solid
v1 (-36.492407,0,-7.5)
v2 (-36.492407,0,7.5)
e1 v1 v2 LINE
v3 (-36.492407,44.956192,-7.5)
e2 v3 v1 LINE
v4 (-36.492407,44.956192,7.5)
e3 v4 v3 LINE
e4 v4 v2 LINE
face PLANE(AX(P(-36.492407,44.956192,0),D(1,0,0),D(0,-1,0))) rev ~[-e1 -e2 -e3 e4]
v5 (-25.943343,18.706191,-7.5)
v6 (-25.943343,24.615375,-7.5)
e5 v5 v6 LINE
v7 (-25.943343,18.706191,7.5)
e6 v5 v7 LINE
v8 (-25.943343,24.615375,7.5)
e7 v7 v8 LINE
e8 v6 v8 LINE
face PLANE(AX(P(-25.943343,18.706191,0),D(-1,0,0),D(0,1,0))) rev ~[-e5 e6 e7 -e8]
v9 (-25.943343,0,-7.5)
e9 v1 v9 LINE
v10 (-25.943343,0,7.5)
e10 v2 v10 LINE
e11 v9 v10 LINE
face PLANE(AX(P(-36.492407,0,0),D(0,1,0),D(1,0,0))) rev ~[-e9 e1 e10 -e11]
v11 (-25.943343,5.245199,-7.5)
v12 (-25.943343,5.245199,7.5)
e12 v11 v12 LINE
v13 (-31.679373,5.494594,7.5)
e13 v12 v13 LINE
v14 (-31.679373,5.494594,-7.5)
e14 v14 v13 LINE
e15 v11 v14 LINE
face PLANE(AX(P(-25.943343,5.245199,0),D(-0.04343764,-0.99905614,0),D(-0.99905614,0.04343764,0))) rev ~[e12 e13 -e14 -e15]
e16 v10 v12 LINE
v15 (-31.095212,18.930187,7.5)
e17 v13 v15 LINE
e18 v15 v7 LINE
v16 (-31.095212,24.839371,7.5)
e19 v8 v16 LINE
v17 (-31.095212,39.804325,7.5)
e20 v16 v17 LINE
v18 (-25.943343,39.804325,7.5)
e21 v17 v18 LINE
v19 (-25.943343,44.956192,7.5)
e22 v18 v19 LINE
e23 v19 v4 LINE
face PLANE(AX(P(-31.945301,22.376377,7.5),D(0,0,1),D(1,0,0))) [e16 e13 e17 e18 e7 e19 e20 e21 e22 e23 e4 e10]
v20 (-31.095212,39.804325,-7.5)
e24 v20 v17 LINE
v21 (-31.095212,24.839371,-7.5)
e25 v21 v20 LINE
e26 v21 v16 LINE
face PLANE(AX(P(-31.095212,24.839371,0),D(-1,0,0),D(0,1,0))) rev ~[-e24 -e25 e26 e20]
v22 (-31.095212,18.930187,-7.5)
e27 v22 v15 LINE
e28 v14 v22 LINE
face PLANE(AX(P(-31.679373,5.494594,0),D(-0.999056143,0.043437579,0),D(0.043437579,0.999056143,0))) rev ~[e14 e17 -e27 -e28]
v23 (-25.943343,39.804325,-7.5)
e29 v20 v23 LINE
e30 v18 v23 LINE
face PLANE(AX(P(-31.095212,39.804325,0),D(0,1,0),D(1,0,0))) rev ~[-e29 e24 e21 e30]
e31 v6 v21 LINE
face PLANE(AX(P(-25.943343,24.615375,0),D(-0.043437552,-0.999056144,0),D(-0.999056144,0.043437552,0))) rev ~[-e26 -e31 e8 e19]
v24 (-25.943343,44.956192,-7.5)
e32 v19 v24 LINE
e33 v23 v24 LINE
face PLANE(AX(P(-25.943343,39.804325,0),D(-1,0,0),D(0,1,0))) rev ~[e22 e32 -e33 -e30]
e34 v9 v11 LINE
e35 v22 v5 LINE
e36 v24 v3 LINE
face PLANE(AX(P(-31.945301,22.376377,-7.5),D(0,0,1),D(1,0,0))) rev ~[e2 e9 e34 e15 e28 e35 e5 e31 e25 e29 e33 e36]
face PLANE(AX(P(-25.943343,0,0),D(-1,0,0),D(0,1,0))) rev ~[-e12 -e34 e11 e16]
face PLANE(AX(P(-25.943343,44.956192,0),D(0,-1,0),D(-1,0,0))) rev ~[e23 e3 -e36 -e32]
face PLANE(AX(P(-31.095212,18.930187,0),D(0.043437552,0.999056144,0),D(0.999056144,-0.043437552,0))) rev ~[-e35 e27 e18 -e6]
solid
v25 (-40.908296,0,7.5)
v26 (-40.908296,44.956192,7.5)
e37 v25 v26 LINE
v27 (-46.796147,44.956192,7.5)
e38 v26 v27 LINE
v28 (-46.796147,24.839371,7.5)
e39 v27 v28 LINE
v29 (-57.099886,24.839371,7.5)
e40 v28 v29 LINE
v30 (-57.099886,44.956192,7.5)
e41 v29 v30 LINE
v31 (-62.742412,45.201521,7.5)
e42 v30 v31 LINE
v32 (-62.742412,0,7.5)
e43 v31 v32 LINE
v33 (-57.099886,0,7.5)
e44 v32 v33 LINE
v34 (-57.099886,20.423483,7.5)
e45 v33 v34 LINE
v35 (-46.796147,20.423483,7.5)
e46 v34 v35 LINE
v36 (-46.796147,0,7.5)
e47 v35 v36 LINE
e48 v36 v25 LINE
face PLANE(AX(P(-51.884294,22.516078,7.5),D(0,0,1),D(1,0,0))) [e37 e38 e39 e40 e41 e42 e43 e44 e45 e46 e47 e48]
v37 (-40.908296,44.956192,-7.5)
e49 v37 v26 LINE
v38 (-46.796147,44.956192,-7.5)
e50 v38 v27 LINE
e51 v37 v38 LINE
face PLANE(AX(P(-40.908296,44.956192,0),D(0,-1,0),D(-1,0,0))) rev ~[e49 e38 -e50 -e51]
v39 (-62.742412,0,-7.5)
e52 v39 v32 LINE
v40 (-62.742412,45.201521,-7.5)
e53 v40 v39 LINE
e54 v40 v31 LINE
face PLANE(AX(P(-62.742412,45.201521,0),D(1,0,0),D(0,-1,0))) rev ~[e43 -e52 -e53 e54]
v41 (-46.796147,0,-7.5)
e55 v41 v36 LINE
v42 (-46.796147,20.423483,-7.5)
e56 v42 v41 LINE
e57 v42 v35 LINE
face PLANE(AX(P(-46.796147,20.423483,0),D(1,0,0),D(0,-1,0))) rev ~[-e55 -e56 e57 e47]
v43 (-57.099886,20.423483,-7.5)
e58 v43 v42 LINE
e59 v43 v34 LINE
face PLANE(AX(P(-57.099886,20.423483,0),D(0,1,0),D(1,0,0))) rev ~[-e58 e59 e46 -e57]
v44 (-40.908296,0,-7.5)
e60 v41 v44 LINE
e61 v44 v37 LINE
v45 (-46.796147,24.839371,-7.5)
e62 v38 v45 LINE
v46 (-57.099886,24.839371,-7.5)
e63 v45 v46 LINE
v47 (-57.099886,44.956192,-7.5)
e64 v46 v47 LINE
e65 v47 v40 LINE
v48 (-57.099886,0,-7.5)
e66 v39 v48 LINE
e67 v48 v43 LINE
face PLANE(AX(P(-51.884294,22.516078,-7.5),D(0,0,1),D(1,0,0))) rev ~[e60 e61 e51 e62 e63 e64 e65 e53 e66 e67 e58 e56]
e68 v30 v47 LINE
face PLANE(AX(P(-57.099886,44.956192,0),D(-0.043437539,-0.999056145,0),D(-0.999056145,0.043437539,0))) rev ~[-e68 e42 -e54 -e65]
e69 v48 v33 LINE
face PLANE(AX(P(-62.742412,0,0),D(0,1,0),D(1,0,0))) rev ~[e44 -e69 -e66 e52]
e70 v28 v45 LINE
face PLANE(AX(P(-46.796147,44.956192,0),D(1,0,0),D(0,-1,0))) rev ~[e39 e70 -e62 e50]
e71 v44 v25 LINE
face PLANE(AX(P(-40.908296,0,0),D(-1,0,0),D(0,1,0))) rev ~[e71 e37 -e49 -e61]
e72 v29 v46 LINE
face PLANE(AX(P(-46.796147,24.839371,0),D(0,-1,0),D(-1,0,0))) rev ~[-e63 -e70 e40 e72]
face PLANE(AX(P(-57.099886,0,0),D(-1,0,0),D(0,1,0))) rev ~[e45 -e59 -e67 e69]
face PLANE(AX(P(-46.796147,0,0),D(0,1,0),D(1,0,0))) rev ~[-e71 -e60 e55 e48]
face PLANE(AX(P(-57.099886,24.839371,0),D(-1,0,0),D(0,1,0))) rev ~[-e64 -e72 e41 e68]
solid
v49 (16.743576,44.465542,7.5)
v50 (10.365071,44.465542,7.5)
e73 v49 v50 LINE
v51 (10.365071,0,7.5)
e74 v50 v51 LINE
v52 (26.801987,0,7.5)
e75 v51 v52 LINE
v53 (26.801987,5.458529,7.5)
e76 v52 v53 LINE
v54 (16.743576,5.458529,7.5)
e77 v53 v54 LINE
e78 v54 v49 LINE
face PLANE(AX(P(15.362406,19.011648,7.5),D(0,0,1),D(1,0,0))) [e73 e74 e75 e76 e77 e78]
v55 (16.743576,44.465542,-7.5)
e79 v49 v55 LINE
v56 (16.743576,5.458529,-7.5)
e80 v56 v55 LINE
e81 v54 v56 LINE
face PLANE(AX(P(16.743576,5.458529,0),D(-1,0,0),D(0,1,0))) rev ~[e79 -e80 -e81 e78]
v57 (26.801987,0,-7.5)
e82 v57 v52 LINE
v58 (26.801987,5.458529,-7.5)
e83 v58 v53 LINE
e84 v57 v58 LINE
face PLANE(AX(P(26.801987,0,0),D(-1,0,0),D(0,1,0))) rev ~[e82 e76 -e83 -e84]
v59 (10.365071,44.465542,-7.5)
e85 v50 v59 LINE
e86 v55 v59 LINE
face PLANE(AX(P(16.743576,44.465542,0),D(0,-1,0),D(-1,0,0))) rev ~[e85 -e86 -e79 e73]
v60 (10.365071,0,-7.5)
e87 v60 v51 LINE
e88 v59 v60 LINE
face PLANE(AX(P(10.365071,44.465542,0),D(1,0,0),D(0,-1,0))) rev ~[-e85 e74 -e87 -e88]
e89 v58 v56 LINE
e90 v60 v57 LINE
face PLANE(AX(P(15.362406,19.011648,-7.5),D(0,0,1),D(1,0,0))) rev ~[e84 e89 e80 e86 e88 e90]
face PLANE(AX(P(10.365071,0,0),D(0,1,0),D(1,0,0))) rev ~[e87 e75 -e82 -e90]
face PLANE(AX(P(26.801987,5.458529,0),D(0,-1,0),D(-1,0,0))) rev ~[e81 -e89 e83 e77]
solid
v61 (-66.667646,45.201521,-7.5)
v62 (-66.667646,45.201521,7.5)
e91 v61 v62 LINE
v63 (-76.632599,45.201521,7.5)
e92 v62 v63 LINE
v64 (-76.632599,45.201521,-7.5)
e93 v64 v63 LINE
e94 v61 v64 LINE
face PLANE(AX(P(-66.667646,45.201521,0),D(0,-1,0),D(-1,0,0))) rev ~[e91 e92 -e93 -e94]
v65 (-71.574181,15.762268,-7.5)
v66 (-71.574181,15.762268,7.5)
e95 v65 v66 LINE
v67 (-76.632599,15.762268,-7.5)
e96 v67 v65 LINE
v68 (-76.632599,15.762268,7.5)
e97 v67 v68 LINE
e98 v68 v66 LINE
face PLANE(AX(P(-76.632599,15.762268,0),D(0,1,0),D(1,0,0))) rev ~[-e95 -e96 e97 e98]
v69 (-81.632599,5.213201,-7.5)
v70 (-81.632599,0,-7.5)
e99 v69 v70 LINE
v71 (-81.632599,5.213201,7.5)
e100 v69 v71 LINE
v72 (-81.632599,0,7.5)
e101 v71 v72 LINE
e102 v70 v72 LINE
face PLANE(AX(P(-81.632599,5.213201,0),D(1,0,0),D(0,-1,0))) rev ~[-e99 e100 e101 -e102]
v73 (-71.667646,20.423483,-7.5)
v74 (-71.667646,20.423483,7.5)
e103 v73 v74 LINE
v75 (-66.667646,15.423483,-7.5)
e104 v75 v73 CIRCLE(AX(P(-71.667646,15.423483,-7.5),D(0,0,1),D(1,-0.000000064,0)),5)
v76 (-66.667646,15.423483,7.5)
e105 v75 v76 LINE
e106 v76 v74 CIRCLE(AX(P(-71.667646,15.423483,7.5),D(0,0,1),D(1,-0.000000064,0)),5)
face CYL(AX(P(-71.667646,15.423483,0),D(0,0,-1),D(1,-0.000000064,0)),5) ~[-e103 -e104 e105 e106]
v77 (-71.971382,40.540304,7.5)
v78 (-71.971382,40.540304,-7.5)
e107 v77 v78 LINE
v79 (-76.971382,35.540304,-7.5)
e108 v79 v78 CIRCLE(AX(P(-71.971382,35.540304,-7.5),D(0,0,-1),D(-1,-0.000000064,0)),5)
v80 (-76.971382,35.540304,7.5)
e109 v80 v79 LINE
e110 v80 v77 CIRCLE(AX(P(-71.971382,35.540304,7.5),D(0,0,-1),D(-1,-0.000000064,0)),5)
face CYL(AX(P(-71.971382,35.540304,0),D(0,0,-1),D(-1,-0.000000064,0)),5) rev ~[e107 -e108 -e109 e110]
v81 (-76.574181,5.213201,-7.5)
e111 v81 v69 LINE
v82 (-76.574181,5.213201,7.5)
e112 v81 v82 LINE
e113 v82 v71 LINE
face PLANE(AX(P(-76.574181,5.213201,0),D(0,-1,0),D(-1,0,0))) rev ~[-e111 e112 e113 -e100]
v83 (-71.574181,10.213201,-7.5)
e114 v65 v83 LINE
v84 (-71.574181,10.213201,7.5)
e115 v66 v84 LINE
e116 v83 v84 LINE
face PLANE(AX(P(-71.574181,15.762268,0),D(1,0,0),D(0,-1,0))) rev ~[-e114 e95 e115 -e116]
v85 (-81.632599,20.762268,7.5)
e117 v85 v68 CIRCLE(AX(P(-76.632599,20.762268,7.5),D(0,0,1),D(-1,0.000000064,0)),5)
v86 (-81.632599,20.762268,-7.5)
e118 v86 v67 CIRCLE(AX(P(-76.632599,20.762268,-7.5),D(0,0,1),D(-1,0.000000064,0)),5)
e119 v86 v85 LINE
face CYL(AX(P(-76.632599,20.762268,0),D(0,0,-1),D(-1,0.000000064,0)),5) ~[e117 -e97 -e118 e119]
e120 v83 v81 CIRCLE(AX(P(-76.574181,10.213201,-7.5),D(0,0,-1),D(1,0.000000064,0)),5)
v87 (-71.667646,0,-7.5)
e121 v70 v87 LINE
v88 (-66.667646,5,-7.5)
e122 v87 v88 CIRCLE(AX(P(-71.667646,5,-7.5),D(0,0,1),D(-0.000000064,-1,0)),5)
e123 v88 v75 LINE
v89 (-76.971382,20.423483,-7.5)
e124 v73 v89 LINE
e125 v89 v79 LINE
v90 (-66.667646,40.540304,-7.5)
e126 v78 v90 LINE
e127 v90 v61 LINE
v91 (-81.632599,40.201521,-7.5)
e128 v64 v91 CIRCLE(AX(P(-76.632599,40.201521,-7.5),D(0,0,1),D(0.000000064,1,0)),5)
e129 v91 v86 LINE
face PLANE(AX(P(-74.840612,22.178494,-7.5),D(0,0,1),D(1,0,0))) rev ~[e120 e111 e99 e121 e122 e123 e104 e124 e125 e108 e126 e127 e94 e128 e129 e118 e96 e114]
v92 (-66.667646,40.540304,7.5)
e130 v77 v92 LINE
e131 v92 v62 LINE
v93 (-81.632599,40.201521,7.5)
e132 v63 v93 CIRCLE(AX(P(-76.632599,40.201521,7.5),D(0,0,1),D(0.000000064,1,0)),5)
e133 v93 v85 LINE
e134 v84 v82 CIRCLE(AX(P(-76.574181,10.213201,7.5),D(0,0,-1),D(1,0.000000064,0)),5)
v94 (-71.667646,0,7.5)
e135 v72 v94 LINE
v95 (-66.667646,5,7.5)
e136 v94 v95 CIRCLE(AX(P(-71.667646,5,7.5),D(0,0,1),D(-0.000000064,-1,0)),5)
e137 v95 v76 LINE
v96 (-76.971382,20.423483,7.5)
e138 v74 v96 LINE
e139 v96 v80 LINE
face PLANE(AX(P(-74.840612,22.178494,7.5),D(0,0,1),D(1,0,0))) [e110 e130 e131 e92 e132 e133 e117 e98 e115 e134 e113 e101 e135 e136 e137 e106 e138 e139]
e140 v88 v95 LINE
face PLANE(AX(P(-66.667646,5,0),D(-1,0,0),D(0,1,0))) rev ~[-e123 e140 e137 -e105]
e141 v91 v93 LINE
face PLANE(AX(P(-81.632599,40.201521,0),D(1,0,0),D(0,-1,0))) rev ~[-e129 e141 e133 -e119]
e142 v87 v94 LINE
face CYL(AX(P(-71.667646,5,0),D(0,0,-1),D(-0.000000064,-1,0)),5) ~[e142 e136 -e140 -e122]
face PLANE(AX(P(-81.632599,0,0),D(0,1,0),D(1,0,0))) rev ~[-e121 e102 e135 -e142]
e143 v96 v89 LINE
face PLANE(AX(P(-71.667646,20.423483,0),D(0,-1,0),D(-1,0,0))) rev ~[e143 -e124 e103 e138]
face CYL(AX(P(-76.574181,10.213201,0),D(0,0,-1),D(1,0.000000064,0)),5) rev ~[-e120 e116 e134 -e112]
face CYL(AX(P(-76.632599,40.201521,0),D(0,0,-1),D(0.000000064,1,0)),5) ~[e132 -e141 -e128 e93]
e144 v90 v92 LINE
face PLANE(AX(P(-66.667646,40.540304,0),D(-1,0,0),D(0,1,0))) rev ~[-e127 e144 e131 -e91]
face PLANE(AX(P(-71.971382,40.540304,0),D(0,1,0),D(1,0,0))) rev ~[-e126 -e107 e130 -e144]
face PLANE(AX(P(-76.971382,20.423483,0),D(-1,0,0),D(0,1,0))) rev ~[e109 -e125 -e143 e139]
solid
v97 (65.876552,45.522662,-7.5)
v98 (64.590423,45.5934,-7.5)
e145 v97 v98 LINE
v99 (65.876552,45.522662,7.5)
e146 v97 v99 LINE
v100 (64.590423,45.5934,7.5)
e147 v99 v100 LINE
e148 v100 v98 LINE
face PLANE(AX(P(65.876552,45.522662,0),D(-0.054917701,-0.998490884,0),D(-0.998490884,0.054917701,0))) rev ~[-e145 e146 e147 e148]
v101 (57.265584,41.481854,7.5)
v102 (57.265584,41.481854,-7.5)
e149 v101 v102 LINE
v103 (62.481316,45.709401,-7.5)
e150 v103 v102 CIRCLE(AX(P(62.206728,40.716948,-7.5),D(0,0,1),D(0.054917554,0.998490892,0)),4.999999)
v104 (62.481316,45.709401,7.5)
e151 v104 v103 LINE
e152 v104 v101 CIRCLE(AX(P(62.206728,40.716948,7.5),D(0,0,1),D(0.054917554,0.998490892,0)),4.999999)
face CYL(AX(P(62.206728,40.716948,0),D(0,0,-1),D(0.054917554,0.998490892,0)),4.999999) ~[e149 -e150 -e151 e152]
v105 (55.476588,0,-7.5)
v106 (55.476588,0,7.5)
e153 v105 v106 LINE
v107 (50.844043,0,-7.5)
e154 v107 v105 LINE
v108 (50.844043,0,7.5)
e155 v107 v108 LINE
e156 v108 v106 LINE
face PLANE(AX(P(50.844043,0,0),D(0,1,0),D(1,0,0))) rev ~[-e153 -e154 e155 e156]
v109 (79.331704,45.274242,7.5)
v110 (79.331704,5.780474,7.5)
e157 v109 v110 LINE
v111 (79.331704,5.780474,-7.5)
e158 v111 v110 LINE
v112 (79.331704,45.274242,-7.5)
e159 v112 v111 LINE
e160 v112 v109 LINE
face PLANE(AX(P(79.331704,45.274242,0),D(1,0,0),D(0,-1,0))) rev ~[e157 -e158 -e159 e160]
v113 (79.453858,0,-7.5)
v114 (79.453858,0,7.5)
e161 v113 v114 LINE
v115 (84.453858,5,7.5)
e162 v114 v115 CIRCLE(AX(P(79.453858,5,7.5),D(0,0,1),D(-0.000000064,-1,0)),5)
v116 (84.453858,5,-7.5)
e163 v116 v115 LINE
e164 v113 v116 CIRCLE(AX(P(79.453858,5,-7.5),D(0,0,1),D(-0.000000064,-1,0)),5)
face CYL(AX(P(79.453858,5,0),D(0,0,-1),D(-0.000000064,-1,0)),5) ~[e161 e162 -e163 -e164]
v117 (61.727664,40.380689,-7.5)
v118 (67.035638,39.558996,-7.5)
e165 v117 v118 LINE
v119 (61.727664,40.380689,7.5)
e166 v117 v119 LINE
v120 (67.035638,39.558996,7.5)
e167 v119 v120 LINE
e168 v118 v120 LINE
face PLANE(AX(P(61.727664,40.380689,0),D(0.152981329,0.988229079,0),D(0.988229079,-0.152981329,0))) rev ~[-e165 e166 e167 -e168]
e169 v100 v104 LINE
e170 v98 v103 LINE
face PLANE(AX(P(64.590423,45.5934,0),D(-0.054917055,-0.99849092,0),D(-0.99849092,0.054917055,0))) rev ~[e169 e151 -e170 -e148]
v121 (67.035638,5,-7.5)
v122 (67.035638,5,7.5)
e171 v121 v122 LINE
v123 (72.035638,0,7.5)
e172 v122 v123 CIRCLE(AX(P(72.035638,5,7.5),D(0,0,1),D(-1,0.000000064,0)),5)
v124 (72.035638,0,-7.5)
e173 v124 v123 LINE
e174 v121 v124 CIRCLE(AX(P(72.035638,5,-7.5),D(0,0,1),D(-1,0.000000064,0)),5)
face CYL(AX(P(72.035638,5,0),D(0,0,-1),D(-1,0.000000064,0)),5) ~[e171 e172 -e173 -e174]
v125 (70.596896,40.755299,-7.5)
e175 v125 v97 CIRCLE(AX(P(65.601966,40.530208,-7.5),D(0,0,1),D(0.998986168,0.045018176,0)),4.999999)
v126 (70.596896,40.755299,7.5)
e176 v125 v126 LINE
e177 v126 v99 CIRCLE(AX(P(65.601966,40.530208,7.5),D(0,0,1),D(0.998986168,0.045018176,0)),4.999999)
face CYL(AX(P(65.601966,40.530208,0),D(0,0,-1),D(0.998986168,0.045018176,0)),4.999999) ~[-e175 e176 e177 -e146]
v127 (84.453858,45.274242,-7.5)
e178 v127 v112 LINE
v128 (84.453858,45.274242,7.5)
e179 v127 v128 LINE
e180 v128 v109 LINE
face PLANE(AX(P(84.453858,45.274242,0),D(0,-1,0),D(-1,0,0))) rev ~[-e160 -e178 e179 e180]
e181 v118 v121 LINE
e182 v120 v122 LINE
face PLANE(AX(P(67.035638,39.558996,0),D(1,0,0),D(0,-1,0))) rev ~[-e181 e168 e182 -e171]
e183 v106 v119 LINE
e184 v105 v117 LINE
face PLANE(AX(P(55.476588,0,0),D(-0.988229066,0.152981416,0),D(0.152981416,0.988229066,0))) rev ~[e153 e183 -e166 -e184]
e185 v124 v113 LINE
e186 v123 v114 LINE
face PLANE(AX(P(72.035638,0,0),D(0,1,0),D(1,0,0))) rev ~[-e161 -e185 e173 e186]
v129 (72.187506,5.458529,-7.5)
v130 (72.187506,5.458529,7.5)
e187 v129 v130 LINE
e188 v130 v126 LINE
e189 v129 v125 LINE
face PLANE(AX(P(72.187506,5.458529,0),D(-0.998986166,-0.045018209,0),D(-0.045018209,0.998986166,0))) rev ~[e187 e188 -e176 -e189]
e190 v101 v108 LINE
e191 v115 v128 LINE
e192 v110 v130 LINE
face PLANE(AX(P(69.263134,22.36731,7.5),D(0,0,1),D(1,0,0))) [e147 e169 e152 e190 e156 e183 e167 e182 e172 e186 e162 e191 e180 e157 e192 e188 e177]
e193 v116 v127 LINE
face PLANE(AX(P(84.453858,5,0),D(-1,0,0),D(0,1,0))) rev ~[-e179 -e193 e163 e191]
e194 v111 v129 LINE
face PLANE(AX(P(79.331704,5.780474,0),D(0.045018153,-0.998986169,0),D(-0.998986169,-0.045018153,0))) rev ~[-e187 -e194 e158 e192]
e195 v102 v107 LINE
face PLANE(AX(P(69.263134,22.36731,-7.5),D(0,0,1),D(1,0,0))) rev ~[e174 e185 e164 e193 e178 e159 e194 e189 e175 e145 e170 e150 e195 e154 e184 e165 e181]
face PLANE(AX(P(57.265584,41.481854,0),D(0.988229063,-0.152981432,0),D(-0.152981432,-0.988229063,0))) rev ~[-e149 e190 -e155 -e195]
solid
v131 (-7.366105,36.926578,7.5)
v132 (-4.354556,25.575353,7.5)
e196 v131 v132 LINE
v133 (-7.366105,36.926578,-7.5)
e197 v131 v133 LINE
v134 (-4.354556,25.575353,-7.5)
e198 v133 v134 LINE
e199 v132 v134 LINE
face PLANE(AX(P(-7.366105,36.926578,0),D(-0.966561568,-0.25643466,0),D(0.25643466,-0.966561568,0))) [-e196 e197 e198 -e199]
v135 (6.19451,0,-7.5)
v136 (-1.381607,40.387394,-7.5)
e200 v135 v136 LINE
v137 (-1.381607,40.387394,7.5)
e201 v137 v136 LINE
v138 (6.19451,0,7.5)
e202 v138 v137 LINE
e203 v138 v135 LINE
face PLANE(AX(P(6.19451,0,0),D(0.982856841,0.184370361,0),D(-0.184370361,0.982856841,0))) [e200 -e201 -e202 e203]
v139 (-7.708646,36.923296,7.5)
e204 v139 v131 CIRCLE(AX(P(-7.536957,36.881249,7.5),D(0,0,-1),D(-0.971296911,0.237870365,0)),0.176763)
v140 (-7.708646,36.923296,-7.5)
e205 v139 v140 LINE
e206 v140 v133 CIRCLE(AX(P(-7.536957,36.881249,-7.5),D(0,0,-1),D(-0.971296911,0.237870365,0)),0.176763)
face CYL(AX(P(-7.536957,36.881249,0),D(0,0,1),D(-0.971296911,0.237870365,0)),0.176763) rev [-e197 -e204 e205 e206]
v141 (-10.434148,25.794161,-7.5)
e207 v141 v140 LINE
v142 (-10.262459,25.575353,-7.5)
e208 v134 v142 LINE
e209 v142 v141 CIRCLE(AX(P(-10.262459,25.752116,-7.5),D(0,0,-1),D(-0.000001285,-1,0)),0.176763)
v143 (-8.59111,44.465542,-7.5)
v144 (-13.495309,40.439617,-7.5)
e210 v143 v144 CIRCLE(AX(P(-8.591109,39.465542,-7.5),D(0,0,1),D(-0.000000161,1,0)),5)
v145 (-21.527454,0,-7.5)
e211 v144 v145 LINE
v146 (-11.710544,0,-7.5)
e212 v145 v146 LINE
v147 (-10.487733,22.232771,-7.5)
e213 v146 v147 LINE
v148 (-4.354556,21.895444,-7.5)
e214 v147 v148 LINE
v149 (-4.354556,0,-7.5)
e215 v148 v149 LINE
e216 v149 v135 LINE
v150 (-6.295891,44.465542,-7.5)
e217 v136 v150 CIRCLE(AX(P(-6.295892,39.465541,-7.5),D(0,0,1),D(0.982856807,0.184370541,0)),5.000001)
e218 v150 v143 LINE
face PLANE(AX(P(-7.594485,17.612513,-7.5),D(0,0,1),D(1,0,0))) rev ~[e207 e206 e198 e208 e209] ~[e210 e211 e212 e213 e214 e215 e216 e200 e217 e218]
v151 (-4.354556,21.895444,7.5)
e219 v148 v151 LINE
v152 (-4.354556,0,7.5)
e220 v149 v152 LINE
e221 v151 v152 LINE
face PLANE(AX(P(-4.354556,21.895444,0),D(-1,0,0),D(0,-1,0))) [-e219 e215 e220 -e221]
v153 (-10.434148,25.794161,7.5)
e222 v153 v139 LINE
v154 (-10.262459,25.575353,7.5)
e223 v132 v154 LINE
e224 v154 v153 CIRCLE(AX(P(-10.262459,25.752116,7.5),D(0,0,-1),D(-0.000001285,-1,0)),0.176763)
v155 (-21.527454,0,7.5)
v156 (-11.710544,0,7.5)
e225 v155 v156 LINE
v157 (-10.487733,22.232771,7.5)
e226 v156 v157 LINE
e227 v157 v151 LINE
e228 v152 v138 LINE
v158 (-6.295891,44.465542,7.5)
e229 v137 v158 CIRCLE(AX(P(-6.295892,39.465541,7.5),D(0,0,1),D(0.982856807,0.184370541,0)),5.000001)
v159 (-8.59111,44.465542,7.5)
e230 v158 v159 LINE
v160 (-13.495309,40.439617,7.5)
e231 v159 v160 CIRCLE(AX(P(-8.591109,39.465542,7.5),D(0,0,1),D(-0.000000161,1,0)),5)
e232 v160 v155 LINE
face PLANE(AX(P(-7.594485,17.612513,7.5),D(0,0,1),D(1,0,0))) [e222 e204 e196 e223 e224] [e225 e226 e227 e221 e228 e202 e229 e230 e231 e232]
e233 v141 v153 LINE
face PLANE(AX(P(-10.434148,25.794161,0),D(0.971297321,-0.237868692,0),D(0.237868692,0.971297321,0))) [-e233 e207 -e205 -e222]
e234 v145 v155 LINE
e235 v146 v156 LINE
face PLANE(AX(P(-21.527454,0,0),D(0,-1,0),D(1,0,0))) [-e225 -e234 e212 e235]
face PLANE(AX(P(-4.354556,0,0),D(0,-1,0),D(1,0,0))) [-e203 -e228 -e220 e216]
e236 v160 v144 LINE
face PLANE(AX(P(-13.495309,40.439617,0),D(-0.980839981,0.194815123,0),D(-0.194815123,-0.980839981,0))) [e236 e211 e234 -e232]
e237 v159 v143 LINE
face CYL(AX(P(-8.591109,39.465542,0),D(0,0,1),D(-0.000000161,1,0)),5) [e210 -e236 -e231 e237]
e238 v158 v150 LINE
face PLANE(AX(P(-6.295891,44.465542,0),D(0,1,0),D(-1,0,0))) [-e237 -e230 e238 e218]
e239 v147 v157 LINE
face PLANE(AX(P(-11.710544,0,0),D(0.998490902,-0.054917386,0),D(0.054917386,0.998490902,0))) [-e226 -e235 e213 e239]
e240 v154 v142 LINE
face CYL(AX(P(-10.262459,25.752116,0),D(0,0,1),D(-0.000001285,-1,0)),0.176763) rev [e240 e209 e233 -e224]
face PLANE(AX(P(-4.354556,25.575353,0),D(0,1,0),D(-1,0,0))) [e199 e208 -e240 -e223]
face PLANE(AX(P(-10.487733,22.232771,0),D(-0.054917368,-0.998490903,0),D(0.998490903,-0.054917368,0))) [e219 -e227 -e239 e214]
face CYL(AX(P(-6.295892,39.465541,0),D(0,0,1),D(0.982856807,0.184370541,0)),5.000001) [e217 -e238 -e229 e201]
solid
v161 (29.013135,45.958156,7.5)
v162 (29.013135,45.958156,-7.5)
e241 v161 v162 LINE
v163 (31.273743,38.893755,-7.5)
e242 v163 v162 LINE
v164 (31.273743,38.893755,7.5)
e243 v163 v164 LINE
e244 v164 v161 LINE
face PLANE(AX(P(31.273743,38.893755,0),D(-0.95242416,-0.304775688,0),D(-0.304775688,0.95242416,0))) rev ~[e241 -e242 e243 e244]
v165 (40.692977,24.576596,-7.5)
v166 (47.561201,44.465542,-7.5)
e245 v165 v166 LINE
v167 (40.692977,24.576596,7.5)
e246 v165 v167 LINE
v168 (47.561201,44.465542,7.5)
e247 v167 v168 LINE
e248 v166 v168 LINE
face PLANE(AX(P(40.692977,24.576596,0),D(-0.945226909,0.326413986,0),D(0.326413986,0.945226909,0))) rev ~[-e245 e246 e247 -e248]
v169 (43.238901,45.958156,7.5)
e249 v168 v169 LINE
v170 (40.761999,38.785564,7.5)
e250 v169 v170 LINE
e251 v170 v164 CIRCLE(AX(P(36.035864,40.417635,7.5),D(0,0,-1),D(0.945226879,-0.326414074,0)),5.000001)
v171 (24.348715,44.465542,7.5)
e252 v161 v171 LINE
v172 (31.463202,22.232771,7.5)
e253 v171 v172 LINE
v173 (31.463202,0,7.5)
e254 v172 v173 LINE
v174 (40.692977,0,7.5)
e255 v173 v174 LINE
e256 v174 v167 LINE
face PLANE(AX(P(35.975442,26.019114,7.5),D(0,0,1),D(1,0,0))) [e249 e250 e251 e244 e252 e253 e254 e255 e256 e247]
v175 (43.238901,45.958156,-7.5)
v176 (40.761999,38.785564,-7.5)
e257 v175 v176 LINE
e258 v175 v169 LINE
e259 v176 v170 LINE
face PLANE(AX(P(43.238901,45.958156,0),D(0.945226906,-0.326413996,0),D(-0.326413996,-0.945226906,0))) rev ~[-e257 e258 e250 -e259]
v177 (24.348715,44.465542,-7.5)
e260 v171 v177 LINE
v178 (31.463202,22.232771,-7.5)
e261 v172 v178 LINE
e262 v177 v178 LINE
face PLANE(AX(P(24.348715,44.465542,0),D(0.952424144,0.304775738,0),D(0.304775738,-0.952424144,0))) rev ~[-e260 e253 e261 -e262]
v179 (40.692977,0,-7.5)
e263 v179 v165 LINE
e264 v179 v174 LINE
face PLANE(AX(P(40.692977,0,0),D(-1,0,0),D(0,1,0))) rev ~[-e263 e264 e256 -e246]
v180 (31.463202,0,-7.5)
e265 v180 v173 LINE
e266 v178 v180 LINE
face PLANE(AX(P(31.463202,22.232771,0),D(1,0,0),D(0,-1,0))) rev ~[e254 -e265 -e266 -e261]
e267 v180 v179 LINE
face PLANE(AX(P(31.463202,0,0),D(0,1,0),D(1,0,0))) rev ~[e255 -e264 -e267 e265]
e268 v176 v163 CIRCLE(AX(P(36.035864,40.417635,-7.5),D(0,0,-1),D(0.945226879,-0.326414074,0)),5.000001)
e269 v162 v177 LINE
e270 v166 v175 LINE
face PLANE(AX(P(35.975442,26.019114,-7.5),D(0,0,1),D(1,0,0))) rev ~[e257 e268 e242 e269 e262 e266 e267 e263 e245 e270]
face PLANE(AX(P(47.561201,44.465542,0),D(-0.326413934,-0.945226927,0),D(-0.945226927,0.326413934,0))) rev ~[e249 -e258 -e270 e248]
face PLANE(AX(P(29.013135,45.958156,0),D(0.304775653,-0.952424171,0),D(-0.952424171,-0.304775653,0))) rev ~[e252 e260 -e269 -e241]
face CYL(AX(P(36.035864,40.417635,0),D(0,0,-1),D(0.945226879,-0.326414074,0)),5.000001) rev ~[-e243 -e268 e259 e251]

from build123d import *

# Parameters (mm, degrees)
F1_DEPTH = 7.5


with BuildPart() as f1:
    # F0 (on Top) → F1 (new body, symmetric)
    with BuildSketch(Plane.XY):
        with BuildLine():
            Line((-71.971382, 40.540304), (-66.667646, 40.540304))
            Line((-66.667646, 40.540304), (-66.667646, 45.201521))
            Line((-66.667646, 45.201521), (-76.632599, 45.201521))
            ThreePointArc((-76.632599, 45.201521), (-80.168133, 43.737055), (-81.632599, 40.201521))
            Line((-81.632599, 40.201521), (-81.632599, 20.762268))
            ThreePointArc((-81.632599, 20.762268), (-80.168133, 17.226734), (-76.632599, 15.762268))
            Line((-76.632599, 15.762268), (-71.574181, 15.762268))
            Line((-71.574181, 15.762268), (-71.574181, 10.213201))
            ThreePointArc((-71.574181, 10.213201), (-73.038647, 6.677667), (-76.574181, 5.213201))
            Line((-76.574181, 5.213201), (-76.971382, 5.213201))
            Line((-76.971382, 5.213201), (-81.632599, 5.213201))
            Line((-81.632599, 5.213201), (-81.632599, 0))
            Line((-81.632599, 0), (-76.971382, 0))
            Line((-76.971382, 0), (-71.667646, 0))
            ThreePointArc((-71.667646, 0), (-68.132112, 1.464466), (-66.667646, 5))
            Line((-66.667646, 5), (-66.667646, 15.423483))
            ThreePointArc((-66.667646, 15.423483), (-68.132112, 18.959017), (-71.667646, 20.423483))
            Line((-71.667646, 20.423483), (-76.971382, 20.423483))
            Line((-76.971382, 20.423483), (-76.971382, 35.540304))
            ThreePointArc((-76.971382, 35.540304), (-75.506916, 39.075838), (-71.971382, 40.540304))
        make_face()
        Polygon((-57.099886, 44.956192), (-62.742412, 45.201521), (-62.742412, 0), (-57.099886, 0), (-57.099886, 20.423483), (-46.796147, 20.423483), (-46.796147, 0), (-40.908296, 0), (-40.908296, 24.839371), (-40.908296, 44.956192), (-46.796147, 44.956192), (-46.796147, 24.839371), (-57.099886, 24.839371), align=None)
        Polygon((-36.492407, 44.956192), (-36.492407, 0), (-25.943343, 0), (-25.943343, 5.245199), (-31.679373, 5.494594), (-31.095212, 18.930187), (-25.943343, 18.706191), (-25.943343, 24.615375), (-31.095212, 24.839371), (-31.095212, 39.804325), (-25.943343, 39.804325), (-25.943343, 44.956192), align=None)
        Polygon((10.365071, 44.465542), (10.365071, 0), (26.801987, 0), (26.801987, 5.458529), (16.743576, 5.458529), (16.743576, 44.465542), align=None)
        with BuildLine():
            Line((31.463202, 22.232771), (31.463202, 0))
            Line((31.463202, 0), (40.692977, 0))
            Line((40.692977, 0), (40.692977, 24.576596))
            Line((40.692977, 24.576596), (47.561201, 44.465542))
            Line((47.561201, 44.465542), (43.238901, 45.958156))
            Line((43.238901, 45.958156), (40.761999, 38.785564))
            ThreePointArc((40.761999, 38.785564), (35.978854, 35.417959), (31.273743, 38.893755))
            Line((31.273743, 38.893755), (29.013135, 45.958156))
            Line((29.013135, 45.958156), (24.348715, 44.465542))
            Line((24.348715, 44.465542), (31.463202, 22.232771))
        make_face()
        with BuildLine():
            Line((57.265584, 41.481854), (50.844043, 0))
            Line((50.844043, 0), (55.476588, 0))
            Line((55.476588, 0), (61.727664, 40.380689))
            Line((61.727664, 40.380689), (67.035638, 39.558996))
            Line((67.035638, 39.558996), (67.035638, 5))
            ThreePointArc((67.035638, 5), (68.500104, 1.464466), (72.035638, 0))
            Line((72.035638, 0), (79.453858, 0))
            ThreePointArc((79.453858, 0), (82.989392, 1.464466), (84.453858, 5))
            Line((84.453858, 5), (84.453858, 45.274242))
            Line((84.453858, 45.274242), (79.331704, 45.274242))
            Line((79.331704, 45.274242), (79.331704, 5.780474))
            Line((79.331704, 5.780474), (72.187506, 5.458529))
            Line((72.187506, 5.458529), (70.596896, 40.755299))
            ThreePointArc((70.596896, 40.755299), (69.154977, 44.048177), (65.876552, 45.522662))
            Line((65.876552, 45.522662), (64.590423, 45.5934))
            Line((64.590423, 45.5934), (62.481316, 45.709401))
            ThreePointArc((62.481316, 45.709401), (59.05836, 44.601245), (57.265584, 41.481854))
        make_face()
        with BuildLine():
            Line((-13.495309, 40.439617), (-21.527454, 0))
            Line((-21.527454, 0), (-11.710544, 0))
            Line((-11.710544, 0), (-10.487733, 22.232771))
            Line((-10.487733, 22.232771), (-4.354556, 21.895444))
            Line((-4.354556, 21.895444), (-4.354556, 0))
            Line((-4.354556, 0), (6.19451, 0))
            Line((6.19451, 0), (-1.381607, 40.387394))
            ThreePointArc((-1.381607, 40.387394), (-3.102872, 43.31322), (-6.295891, 44.465542))
            Line((-6.295891, 44.465542), (-8.59111, 44.465542))
            ThreePointArc((-8.59111, 44.465542), (-11.763618, 43.330149), (-13.495309, 40.439617))
        make_face()
        with BuildLine():
            Line((-10.434148, 25.794161), (-7.708646, 36.923296))
            ThreePointArc((-7.708646, 36.923296), (-7.53865, 37.058004), (-7.366105, 36.926578))
            Line((-7.366105, 36.926578), (-4.354556, 25.575353))
            Line((-4.354556, 25.575353), (-10.262459, 25.575353))
            ThreePointArc((-10.262459, 25.575353), (-10.401522, 25.642999), (-10.434148, 25.794161))
        make_face(mode=Mode.SUBTRACT)
    extrude(amount=F1_DEPTH, both=True)


solid = f1.part
